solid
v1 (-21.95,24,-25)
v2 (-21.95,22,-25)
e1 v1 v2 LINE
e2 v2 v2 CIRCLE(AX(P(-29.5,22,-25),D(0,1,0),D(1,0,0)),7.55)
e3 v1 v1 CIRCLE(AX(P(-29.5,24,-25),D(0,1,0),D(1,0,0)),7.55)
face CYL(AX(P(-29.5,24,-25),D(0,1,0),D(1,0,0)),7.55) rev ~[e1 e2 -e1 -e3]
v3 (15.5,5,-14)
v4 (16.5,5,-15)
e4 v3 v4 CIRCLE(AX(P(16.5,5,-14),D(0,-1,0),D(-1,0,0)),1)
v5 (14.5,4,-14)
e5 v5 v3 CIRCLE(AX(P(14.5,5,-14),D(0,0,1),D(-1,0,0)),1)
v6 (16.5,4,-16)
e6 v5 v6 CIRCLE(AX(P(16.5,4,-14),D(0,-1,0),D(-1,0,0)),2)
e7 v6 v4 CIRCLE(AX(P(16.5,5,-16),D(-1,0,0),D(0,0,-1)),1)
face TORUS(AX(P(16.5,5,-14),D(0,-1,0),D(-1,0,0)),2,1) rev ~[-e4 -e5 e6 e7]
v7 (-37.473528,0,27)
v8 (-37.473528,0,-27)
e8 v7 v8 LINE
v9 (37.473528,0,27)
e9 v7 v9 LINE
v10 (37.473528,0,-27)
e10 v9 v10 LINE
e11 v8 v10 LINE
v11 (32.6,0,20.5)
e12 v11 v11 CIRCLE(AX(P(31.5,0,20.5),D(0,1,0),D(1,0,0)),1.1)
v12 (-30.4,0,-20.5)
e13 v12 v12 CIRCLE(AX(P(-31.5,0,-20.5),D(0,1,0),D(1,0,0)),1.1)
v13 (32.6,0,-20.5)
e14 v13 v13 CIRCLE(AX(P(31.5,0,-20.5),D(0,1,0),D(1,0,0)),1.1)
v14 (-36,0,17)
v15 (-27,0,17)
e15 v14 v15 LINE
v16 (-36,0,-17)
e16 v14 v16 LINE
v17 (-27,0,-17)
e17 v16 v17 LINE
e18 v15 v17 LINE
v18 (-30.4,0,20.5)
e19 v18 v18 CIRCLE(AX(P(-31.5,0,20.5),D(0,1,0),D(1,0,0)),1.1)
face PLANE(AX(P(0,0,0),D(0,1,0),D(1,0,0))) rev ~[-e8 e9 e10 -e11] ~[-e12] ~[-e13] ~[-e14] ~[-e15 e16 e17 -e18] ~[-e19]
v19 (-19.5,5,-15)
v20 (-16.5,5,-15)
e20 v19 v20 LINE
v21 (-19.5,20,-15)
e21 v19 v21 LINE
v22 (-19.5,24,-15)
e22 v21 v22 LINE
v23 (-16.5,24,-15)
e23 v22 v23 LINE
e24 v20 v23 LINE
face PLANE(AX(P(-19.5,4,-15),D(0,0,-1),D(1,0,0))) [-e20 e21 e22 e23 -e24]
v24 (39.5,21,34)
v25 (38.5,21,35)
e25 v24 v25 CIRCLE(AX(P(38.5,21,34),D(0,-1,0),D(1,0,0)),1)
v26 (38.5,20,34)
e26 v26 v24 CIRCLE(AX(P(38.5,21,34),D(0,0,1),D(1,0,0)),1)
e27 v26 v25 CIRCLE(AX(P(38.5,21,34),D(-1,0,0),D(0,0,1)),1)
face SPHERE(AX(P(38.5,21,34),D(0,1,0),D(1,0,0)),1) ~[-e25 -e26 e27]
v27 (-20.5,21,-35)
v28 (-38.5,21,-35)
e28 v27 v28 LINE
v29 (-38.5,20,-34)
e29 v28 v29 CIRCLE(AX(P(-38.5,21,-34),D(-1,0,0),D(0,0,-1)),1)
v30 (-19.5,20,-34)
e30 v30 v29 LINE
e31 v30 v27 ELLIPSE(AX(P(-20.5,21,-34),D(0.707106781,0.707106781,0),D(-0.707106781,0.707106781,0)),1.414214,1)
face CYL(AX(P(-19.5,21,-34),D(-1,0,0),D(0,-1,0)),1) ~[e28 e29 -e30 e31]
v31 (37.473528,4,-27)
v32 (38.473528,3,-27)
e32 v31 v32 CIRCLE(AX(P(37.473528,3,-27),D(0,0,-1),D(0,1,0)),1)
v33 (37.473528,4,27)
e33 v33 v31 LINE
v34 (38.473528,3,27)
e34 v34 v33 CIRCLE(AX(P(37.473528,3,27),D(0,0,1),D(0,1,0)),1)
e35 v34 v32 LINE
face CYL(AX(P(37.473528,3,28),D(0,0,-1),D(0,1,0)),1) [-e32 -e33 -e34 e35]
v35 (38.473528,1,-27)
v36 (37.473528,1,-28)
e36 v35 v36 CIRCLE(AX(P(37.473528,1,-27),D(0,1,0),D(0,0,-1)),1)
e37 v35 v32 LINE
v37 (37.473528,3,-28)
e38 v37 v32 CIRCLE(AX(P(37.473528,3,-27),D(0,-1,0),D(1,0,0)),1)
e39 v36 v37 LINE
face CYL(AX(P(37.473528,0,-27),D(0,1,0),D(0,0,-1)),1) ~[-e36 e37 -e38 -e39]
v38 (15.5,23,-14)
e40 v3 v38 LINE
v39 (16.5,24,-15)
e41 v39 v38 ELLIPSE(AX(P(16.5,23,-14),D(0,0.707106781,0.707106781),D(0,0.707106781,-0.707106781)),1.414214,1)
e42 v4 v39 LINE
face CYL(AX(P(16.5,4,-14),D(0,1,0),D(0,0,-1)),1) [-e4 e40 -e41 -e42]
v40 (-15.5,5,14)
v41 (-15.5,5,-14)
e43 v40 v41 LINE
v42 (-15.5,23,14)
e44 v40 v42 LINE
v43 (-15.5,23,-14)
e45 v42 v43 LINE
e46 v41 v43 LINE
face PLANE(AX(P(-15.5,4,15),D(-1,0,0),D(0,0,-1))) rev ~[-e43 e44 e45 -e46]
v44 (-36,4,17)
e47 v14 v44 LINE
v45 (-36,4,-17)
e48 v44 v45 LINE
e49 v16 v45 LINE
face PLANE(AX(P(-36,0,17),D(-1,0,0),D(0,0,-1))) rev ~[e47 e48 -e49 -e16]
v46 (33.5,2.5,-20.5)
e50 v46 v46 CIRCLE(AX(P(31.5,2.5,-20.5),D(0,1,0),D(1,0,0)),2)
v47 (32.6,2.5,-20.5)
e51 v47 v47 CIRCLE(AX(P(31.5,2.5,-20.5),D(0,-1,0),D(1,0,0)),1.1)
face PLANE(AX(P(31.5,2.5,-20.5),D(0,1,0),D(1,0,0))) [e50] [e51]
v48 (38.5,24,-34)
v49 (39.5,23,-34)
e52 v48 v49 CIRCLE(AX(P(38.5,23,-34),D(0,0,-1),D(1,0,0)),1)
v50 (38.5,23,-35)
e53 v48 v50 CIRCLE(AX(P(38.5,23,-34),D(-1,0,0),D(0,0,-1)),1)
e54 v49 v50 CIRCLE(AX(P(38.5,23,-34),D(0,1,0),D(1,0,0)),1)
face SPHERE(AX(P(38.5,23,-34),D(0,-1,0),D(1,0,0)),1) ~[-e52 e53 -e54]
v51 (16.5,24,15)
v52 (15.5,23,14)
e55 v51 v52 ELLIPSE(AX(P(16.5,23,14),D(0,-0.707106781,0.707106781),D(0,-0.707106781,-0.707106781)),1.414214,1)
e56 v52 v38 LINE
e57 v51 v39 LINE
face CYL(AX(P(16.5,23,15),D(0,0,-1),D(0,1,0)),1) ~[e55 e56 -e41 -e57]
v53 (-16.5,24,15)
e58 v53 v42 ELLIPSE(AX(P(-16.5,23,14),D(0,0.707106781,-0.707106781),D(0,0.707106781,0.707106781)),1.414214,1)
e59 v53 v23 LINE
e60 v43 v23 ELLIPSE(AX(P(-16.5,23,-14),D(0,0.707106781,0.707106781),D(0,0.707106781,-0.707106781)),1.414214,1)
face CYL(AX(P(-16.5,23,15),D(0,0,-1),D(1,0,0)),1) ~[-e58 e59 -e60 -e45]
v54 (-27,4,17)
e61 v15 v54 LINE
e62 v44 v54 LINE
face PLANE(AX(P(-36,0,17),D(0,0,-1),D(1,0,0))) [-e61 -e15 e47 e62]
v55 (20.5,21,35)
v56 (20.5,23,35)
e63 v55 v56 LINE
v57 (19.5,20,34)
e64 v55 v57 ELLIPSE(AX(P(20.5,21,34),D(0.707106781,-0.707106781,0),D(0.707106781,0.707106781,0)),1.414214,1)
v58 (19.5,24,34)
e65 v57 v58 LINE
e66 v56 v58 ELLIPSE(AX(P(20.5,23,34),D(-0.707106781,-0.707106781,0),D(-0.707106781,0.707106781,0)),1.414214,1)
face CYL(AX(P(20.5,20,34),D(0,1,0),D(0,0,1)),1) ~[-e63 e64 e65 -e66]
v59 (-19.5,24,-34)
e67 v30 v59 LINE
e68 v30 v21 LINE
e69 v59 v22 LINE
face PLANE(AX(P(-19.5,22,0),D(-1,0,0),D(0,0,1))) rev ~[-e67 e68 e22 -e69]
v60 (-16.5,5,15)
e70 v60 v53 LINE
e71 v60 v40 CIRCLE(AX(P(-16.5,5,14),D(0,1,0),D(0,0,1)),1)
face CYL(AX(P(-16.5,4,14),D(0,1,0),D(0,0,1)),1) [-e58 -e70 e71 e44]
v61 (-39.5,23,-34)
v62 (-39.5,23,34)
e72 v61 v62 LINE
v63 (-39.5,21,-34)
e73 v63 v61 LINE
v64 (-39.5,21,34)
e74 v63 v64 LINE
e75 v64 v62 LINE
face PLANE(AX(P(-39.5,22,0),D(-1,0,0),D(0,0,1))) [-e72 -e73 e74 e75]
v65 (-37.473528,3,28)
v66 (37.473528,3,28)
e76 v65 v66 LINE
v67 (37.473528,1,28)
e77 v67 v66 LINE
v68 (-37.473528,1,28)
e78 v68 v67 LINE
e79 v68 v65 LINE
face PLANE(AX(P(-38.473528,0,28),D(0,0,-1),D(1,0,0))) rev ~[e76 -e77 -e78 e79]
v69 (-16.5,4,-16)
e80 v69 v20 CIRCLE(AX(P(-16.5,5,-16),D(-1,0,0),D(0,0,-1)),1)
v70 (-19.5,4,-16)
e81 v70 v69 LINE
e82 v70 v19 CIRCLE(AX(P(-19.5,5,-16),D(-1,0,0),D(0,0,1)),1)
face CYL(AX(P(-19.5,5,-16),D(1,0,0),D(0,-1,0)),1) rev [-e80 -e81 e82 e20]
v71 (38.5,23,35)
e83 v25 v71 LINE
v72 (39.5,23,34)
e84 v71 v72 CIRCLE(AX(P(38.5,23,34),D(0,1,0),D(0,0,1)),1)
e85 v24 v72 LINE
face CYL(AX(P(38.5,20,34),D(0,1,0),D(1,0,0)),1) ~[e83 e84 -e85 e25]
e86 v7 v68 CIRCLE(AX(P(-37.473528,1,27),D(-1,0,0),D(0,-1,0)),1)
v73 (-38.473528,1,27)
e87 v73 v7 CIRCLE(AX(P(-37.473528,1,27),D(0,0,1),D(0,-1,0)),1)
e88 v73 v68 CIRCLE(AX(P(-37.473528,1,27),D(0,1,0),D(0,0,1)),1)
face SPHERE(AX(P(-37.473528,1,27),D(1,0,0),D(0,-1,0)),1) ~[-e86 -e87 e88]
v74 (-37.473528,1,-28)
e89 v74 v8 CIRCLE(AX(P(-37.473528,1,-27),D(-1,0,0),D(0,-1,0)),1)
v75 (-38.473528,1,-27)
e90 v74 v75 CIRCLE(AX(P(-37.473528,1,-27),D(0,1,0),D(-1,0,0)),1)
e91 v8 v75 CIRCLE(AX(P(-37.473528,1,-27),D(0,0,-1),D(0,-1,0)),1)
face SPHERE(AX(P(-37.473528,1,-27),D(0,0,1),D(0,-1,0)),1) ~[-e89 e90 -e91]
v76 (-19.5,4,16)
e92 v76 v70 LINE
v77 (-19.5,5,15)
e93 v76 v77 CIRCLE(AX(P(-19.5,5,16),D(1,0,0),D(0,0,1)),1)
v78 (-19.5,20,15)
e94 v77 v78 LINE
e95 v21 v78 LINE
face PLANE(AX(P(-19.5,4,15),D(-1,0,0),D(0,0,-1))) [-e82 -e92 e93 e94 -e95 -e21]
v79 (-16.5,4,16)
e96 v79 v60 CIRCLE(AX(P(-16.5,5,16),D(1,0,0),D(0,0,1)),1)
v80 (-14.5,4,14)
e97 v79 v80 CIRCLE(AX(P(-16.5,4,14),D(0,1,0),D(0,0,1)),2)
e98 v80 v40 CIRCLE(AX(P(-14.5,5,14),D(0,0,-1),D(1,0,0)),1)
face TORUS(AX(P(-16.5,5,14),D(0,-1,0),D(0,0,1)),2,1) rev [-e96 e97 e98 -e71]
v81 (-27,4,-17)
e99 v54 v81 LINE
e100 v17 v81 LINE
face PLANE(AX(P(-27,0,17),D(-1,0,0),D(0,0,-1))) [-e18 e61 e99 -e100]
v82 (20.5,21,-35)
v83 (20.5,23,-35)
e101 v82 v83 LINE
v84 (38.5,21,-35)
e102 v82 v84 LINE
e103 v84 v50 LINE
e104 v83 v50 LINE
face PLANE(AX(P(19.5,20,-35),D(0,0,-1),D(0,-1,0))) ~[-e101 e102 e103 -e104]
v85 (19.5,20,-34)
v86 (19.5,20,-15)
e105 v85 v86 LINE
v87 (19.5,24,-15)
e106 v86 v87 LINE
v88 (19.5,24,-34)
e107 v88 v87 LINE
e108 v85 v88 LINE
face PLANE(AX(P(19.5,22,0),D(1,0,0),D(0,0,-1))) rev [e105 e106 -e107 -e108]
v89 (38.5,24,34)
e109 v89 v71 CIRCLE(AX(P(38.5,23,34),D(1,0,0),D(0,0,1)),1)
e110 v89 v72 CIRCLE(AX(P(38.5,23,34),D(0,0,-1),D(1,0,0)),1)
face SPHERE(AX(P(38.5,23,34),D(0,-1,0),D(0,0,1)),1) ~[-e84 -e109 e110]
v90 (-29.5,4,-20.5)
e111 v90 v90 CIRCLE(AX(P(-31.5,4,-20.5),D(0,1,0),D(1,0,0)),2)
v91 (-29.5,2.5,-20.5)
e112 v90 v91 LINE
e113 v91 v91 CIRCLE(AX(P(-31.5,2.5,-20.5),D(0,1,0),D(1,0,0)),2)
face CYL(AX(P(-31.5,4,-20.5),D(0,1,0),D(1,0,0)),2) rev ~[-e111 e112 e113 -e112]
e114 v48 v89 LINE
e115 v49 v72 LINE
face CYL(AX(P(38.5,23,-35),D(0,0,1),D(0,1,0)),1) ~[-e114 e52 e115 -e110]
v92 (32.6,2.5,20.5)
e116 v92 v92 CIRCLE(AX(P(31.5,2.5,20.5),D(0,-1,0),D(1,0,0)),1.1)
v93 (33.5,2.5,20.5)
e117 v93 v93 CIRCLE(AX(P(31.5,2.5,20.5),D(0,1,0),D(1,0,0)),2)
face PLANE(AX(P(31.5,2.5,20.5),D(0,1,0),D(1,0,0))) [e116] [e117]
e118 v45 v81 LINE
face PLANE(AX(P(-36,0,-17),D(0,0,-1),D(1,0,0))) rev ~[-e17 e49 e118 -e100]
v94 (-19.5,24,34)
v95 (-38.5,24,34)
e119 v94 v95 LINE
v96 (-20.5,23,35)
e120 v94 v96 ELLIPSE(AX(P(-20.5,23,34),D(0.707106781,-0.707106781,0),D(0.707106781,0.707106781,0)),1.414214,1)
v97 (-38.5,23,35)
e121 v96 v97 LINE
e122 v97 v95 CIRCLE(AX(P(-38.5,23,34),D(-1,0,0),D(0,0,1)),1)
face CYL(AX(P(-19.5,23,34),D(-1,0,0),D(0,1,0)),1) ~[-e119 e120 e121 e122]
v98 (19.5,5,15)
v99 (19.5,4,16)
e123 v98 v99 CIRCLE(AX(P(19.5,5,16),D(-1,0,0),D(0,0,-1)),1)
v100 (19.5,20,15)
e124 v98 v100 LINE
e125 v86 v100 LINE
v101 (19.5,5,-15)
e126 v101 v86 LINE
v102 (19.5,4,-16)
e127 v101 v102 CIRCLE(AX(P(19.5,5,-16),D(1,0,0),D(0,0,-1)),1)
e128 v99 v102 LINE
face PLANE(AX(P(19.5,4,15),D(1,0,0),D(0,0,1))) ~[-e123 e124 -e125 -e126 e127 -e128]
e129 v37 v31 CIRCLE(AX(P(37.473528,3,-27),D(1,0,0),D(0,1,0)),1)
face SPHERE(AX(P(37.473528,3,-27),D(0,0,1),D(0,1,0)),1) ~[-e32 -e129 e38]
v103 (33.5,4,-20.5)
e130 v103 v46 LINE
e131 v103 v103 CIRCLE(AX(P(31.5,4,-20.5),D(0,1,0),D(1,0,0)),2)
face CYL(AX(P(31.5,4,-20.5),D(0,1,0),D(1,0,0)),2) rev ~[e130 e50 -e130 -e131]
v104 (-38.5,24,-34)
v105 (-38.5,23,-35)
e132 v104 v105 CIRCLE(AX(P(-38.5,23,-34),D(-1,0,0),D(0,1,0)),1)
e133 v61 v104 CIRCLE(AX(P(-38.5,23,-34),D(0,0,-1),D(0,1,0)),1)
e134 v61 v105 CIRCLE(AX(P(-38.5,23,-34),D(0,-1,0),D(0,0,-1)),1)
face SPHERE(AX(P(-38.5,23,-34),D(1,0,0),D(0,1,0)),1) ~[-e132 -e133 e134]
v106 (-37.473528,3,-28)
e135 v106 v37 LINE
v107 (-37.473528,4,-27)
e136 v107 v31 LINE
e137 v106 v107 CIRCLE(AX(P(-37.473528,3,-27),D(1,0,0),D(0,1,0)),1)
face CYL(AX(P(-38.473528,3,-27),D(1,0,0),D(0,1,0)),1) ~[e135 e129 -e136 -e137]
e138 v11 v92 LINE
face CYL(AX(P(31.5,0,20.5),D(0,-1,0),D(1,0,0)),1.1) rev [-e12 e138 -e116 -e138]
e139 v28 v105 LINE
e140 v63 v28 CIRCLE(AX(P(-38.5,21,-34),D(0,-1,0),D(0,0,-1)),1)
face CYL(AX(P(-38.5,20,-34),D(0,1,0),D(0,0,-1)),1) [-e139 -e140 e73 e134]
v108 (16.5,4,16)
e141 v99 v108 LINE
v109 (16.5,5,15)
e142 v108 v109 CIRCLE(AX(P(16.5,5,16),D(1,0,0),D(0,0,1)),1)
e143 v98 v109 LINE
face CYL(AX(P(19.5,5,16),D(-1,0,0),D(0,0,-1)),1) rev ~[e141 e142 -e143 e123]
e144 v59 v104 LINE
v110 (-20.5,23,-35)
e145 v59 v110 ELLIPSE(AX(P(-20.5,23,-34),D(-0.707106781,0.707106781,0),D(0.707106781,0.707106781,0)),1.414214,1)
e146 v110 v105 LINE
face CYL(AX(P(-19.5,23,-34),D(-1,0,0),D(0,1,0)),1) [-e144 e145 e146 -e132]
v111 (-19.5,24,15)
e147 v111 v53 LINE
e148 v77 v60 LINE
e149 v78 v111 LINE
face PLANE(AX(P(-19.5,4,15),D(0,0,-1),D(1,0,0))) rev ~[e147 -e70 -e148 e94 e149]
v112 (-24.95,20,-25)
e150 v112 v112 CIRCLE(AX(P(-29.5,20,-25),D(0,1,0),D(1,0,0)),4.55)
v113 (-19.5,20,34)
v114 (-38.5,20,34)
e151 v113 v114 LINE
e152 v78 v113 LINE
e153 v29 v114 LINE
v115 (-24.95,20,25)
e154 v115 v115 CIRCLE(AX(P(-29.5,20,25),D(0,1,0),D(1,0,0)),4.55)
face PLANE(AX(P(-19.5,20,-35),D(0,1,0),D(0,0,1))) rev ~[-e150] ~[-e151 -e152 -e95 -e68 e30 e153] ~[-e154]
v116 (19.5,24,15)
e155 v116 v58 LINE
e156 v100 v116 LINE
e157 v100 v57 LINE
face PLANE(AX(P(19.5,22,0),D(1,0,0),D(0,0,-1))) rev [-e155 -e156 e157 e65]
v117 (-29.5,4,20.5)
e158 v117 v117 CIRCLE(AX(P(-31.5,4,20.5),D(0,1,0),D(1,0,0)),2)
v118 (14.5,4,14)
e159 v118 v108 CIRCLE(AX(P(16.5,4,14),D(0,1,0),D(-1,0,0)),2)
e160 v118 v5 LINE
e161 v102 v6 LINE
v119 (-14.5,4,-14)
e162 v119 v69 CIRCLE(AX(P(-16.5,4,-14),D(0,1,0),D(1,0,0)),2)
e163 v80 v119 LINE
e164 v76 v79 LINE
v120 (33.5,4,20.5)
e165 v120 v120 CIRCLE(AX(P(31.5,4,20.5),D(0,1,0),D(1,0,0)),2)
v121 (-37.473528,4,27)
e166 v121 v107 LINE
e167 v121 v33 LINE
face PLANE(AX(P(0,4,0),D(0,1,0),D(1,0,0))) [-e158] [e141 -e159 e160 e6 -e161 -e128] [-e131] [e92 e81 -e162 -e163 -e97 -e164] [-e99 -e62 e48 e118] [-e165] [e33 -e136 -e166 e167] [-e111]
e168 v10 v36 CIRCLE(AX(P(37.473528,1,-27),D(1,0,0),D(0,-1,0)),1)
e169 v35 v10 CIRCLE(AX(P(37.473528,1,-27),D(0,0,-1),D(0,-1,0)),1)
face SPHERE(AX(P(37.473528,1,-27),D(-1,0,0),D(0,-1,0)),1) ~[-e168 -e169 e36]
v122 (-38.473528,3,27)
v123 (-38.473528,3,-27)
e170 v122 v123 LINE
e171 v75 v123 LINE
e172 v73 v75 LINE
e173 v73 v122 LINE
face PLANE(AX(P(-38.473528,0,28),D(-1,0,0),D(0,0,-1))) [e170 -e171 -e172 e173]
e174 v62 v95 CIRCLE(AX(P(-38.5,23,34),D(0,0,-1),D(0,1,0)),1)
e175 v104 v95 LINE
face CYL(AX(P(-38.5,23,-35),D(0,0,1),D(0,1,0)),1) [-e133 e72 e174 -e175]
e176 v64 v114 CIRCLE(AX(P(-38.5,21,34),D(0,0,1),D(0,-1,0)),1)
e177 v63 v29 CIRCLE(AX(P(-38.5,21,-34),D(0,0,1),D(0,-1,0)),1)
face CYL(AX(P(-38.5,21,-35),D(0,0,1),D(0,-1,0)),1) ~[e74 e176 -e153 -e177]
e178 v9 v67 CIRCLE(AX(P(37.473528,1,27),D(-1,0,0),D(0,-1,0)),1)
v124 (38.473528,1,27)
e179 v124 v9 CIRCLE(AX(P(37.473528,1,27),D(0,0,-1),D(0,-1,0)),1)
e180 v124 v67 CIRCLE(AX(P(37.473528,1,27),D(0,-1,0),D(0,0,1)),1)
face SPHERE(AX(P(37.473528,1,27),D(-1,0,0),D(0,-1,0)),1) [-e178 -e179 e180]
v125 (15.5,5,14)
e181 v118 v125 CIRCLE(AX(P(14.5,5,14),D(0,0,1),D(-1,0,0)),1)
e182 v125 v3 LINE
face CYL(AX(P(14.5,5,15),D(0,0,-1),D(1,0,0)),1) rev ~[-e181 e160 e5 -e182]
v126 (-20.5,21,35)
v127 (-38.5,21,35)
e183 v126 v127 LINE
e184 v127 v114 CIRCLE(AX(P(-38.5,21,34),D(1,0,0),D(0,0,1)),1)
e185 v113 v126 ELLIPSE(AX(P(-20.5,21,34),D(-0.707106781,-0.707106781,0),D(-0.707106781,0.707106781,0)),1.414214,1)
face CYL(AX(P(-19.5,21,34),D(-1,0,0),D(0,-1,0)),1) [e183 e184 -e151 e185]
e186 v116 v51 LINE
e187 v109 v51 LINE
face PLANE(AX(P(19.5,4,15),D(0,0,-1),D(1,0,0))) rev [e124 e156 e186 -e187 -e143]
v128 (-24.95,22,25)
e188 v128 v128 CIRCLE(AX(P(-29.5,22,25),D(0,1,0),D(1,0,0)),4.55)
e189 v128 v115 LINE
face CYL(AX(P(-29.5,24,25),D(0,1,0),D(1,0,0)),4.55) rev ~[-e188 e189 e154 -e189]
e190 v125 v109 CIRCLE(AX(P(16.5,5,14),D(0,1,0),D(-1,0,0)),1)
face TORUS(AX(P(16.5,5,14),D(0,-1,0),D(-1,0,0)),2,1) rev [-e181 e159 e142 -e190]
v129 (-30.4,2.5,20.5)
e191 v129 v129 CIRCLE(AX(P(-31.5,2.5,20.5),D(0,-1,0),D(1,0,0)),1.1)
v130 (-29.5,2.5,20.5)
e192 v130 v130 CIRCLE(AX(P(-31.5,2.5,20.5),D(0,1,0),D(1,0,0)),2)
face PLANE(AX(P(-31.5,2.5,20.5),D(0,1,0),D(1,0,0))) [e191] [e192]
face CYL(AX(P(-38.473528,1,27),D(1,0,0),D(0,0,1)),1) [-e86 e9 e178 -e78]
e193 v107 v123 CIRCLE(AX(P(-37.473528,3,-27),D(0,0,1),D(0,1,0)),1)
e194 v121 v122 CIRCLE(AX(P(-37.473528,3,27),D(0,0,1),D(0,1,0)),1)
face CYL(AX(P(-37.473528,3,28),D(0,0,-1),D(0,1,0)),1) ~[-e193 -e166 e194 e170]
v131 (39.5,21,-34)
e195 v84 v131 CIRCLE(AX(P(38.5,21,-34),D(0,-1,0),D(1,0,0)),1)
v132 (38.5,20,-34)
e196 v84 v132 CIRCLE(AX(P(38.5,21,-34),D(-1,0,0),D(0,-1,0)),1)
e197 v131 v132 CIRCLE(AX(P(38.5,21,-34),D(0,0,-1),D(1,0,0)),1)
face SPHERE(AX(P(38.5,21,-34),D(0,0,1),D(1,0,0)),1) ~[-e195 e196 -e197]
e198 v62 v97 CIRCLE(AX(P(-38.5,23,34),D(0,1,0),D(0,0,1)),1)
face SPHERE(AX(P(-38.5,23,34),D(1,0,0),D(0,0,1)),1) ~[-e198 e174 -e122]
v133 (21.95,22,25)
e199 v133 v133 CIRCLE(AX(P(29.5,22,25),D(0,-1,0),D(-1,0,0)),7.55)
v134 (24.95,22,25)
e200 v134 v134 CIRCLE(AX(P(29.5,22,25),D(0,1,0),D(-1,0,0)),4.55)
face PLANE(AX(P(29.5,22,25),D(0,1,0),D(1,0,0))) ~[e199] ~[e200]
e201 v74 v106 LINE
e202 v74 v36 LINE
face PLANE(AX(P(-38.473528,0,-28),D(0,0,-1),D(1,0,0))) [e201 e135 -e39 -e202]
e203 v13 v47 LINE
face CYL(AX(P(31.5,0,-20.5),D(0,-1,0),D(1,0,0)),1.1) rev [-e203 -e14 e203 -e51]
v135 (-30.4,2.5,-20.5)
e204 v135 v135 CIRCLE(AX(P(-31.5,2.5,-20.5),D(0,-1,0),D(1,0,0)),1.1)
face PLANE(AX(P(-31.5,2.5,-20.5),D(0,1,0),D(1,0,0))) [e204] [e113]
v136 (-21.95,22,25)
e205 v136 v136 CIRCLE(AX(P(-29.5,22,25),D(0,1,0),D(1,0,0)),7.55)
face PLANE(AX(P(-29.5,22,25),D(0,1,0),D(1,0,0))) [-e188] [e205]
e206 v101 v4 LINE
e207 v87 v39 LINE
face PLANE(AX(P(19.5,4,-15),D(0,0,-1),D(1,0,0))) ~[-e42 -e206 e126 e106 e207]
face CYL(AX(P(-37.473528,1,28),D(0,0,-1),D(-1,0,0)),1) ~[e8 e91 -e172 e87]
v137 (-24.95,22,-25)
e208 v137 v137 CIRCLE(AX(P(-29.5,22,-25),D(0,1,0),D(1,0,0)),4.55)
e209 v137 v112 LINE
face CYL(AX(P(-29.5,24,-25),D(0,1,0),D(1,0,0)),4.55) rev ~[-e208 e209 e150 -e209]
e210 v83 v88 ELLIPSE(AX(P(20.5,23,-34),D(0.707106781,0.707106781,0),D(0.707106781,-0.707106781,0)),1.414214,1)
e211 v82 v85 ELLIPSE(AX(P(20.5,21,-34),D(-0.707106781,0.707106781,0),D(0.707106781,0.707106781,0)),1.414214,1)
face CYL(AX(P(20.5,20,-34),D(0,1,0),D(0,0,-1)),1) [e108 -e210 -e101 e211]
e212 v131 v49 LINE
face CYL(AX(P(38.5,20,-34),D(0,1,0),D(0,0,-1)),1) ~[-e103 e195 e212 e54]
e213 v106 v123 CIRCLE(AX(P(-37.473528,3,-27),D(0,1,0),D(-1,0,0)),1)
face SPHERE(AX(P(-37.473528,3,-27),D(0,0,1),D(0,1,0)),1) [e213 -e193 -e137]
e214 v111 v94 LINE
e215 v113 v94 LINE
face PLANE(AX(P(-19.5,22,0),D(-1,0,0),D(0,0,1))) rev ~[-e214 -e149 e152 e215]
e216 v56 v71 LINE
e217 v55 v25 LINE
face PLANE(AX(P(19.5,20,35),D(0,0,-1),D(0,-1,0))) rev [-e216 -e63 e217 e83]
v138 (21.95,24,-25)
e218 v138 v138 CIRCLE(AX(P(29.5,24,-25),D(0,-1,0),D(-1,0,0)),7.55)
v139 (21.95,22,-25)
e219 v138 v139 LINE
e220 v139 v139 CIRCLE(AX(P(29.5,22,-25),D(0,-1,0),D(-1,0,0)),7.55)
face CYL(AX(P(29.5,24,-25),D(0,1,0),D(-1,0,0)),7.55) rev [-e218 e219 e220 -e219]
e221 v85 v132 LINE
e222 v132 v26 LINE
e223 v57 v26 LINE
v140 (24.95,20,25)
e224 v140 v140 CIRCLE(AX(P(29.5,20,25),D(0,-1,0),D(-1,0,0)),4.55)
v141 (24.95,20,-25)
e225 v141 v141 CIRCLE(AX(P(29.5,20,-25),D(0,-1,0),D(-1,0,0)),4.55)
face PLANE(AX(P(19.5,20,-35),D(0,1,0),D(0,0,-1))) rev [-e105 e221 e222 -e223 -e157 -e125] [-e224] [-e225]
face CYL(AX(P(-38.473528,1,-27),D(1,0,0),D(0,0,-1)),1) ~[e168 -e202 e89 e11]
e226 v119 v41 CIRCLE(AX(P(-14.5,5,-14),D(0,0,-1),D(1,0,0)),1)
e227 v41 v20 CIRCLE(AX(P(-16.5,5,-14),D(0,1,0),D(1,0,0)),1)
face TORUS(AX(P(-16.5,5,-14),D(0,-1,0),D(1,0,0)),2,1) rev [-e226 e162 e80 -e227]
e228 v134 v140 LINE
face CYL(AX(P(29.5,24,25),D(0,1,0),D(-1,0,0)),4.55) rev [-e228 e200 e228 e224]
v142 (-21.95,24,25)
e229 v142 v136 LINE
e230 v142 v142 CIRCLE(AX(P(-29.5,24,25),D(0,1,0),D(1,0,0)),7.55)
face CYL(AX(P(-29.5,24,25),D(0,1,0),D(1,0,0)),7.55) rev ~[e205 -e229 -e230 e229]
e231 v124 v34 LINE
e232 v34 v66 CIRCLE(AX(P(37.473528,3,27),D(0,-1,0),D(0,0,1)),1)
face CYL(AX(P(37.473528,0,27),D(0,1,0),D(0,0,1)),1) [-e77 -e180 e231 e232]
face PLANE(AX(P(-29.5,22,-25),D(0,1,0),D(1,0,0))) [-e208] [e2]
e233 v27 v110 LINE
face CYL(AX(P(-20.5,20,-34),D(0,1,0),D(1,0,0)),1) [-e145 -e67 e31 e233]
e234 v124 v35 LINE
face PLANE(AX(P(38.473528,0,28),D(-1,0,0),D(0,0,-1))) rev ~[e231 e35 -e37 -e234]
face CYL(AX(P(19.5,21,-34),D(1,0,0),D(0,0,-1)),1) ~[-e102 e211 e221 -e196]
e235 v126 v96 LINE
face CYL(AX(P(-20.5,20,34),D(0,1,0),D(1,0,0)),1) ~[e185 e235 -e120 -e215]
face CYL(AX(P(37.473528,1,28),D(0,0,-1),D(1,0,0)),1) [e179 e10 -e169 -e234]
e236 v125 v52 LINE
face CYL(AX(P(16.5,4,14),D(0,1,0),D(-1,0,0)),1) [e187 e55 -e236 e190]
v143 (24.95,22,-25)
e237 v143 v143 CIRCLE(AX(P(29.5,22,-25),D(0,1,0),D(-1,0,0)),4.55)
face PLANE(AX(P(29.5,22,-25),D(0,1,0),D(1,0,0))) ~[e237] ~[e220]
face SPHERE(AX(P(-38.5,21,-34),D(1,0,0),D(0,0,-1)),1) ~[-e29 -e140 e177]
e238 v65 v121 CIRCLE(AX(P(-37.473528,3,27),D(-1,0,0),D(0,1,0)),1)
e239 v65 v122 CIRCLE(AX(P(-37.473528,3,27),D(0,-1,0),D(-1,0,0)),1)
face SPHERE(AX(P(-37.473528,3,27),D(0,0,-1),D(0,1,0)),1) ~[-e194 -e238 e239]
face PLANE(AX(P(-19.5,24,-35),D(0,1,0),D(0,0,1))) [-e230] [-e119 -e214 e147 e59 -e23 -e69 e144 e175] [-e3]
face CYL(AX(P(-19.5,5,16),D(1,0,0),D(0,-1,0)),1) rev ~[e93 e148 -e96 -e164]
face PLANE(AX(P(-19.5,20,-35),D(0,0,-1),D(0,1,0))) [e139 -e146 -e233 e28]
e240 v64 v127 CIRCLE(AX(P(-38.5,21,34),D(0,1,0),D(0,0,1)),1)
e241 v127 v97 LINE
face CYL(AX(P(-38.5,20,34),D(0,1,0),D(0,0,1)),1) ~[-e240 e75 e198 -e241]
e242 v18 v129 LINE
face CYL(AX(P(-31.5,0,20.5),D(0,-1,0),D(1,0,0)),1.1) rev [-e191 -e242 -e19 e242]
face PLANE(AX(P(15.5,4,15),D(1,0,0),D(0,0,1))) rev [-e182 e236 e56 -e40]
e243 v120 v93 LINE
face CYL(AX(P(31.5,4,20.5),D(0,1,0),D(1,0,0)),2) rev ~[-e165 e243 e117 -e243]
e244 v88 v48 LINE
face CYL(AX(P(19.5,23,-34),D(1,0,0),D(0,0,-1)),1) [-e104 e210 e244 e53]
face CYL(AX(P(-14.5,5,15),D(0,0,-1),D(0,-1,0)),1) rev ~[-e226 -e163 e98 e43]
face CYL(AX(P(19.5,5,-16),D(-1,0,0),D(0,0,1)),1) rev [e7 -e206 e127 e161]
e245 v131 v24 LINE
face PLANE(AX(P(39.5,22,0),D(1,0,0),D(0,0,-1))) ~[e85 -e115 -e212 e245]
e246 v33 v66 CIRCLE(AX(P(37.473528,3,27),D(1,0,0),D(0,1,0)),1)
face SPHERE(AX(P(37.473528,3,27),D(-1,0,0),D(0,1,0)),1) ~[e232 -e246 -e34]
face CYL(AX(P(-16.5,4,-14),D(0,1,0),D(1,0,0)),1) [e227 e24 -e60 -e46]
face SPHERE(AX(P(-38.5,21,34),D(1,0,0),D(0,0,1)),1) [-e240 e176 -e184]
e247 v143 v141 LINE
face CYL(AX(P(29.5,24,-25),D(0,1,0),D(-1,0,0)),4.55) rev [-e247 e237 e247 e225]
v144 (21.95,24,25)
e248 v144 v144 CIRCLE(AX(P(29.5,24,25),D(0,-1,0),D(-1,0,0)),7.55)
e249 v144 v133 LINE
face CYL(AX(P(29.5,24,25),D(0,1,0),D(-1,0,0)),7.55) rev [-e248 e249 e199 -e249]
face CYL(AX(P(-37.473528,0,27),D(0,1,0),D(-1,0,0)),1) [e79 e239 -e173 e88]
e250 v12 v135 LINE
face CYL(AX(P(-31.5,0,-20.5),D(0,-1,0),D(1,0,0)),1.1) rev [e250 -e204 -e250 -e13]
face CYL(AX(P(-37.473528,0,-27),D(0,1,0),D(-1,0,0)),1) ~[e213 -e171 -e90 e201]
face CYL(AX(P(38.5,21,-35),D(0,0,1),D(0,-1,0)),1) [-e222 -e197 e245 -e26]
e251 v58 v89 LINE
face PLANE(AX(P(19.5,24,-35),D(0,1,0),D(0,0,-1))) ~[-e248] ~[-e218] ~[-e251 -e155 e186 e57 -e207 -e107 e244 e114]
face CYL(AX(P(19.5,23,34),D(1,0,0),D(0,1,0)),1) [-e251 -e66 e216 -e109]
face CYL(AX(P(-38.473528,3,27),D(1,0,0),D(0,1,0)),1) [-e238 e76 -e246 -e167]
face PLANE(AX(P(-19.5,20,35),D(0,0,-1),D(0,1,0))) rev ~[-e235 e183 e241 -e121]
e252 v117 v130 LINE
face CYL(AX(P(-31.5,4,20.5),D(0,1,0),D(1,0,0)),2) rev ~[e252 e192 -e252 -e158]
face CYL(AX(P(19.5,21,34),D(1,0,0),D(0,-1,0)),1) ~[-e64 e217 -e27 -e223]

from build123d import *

# Parameters (mm, degrees)
SKETCH1_W           = 76.947055408
SKETCH1_H           = 56
SKETCH1_R           = 1.1
SKETCH1_W_2         = 9
SKETCH1_H_2         = 34
BOSS_EXTRUDE1_DEPTH = 4
SKETCH6_W           = 4
SKETCH6_H           = 30
BOSS_EXTRUDE5_DEPTH = 20
SKETCH7_W           = 70
SKETCH7_H           = 4
BOSS_EXTRUDE6_DEPTH = 20
SKETCH8_R           = 4.55
CUT_EXTRUDE2_DEPTH  = 4
SKETCH9_R           = 7.55
CUT_EXTRUDE3_DEPTH  = 2
SKETCH10_R          = 2
CUT_EXTRUDE4_DEPTH  = 1.5
FILLET4_R           = 1


with BuildPart() as part:
    # Sketch1 → Boss-Extrude1 (new body)
    with BuildSketch(Plane(origin=(0, 0, 0), x_dir=(1, 0, 0), z_dir=(0, 1, 0))):
        Rectangle(SKETCH1_W, SKETCH1_H)
        with Locations((-31.5, 20.5)):
            Circle(SKETCH1_R, mode=Mode.SUBTRACT)
        with Locations((-31.5, -20.5)):
            Circle(SKETCH1_R, mode=Mode.SUBTRACT)
        with Locations((31.5, -20.5)):
            Circle(SKETCH1_R, mode=Mode.SUBTRACT)
        with Locations((31.5, 20.5)):
            Circle(SKETCH1_R, mode=Mode.SUBTRACT)
        with Locations((-31.5, 0)):
            Rectangle(SKETCH1_W_2, SKETCH1_H_2, mode=Mode.SUBTRACT)
    extrude(amount=BOSS_EXTRUDE1_DEPTH)

    # Sketch6 → Boss-Extrude5 (add)
    with BuildSketch(Plane(origin=(0, 4, 0), x_dir=(1, 0, 0), z_dir=(0, 1, 0))):
        with Locations((-17.5, 0)):
            Rectangle(SKETCH6_W, SKETCH6_H)
    boss_extrude5 = extrude(amount=BOSS_EXTRUDE5_DEPTH)

    # Sketch7 → Boss-Extrude6 (add)
    with BuildSketch(Plane.ZY.offset(19.5)):
        with Locations((0, 22)):
            Rectangle(SKETCH7_W, SKETCH7_H)
    boss_extrude6 = extrude(amount=BOSS_EXTRUDE6_DEPTH)

    # Sketch8 → Cut-Extrude2 (cut)
    with BuildSketch(Plane(origin=(0, 24, 0), x_dir=(1, 0, 0), z_dir=(0, 1, 0))):
        with Locations((-29.5, 25)):
            Circle(SKETCH8_R)
        with Locations((-29.5, -25)):
            Circle(SKETCH8_R)
    cut_extrude2 = extrude(amount=-CUT_EXTRUDE2_DEPTH, mode=Mode.SUBTRACT)

    # Sketch9 → Cut-Extrude3 (cut)
    with BuildSketch(Plane(origin=(0, 24, 0), x_dir=(1, 0, 0), z_dir=(0, 1, 0))):
        with Locations((-29.5, 25)):
            Circle(SKETCH9_R)
        with Locations((-29.5, -25)):
            Circle(SKETCH9_R)
    cut_extrude3 = extrude(amount=-CUT_EXTRUDE3_DEPTH, mode=Mode.SUBTRACT)

    # Mirror2: Boss-Extrude5, Boss-Extrude6, Cut-Extrude2, Cut-Extrude3 across plane
    add(boss_extrude5.mirror(Plane(origin=(0, 0, 0), x_dir=(0, 0, 1), z_dir=(1, 0, 0))))
    add(boss_extrude6.mirror(Plane(origin=(0, 0, 0), x_dir=(0, 0, 1), z_dir=(1, 0, 0))))
    add(cut_extrude2.mirror(Plane(origin=(0, 0, 0), x_dir=(0, 0, 1), z_dir=(1, 0, 0))), mode=Mode.SUBTRACT)
    add(cut_extrude3.mirror(Plane(origin=(0, 0, 0), x_dir=(0, 0, 1), z_dir=(1, 0, 0))), mode=Mode.SUBTRACT)

    # Sketch10 → Cut-Extrude4 (cut)
    with BuildSketch(Plane(origin=(0, 4, 0), x_dir=(1, 0, 0), z_dir=(0, 1, 0))):
        with Locations((-31.5, -20.5)):
            Circle(SKETCH10_R)
        with Locations((-31.5, 20.5)):
            Circle(SKETCH10_R)
        with Locations((31.5, 20.5)):
            Circle(SKETCH10_R)
        with Locations((31.5, -20.5)):
            Circle(SKETCH10_R)
    extrude(amount=-CUT_EXTRUDE4_DEPTH, mode=Mode.SUBTRACT)

    # Fillet4
    fillet4_edges = [part.edges().sort_by_distance(p)[0] for p in [
        (-38.473527704, 4, 0),
        (17.5, 4, 15),
        (19.5, 22, 35),
        (39.5, 22, 35),
        (29.5, 24, 35),
        (39.5, 20, 0),
        (29.5, 20, 35),
        (39.5, 22, -35),
        (29.5, 20, -35),
        (39.5, 24, 0),
        (29.5, 24, -35),
        (19.5, 22, -35),
        (0, 4, 28),
        (38.473527704, 4, 0),
        (0, 0, 28),
        (-15.5, 4, 0),
        (-15.5, 14, 15),
        (-17.5, 4, -15),
        (-15.5, 14, -15),
        (-17.5, 4, 15),
        (-15.5, 24, 0),
        (-38.473527704, 0, 0),
        (0, 0, -28),
        (38.473527704, 0, 0),
        (-19.5, 22, 35),
        (-29.5, 20, 35),
        (-29.5, 24, 35),
        (-19.5, 22, -35),
        (-29.5, 24, -35),
        (-29.5, 20, -35),
        (-39.5, 22, 35),
        (-39.5, 24, 0),
        (-39.5, 22, -35),
        (-39.5, 20, 0),
        (0, 4, -28),
        (38.473527704, 2, 28),
        (-38.473527704, 2, 28),
        (-38.473527704, 2, -28),
        (38.473527704, 2, -28),
        (15.5, 24, 0),
        (15.5, 14, -15),
        (15.5, 14, 15),
        (15.5, 4, 0),
        (17.5, 4, -15),
    ]]
    fillet(fillet4_edges, radius=FILLET4_R)


solid = part.part
